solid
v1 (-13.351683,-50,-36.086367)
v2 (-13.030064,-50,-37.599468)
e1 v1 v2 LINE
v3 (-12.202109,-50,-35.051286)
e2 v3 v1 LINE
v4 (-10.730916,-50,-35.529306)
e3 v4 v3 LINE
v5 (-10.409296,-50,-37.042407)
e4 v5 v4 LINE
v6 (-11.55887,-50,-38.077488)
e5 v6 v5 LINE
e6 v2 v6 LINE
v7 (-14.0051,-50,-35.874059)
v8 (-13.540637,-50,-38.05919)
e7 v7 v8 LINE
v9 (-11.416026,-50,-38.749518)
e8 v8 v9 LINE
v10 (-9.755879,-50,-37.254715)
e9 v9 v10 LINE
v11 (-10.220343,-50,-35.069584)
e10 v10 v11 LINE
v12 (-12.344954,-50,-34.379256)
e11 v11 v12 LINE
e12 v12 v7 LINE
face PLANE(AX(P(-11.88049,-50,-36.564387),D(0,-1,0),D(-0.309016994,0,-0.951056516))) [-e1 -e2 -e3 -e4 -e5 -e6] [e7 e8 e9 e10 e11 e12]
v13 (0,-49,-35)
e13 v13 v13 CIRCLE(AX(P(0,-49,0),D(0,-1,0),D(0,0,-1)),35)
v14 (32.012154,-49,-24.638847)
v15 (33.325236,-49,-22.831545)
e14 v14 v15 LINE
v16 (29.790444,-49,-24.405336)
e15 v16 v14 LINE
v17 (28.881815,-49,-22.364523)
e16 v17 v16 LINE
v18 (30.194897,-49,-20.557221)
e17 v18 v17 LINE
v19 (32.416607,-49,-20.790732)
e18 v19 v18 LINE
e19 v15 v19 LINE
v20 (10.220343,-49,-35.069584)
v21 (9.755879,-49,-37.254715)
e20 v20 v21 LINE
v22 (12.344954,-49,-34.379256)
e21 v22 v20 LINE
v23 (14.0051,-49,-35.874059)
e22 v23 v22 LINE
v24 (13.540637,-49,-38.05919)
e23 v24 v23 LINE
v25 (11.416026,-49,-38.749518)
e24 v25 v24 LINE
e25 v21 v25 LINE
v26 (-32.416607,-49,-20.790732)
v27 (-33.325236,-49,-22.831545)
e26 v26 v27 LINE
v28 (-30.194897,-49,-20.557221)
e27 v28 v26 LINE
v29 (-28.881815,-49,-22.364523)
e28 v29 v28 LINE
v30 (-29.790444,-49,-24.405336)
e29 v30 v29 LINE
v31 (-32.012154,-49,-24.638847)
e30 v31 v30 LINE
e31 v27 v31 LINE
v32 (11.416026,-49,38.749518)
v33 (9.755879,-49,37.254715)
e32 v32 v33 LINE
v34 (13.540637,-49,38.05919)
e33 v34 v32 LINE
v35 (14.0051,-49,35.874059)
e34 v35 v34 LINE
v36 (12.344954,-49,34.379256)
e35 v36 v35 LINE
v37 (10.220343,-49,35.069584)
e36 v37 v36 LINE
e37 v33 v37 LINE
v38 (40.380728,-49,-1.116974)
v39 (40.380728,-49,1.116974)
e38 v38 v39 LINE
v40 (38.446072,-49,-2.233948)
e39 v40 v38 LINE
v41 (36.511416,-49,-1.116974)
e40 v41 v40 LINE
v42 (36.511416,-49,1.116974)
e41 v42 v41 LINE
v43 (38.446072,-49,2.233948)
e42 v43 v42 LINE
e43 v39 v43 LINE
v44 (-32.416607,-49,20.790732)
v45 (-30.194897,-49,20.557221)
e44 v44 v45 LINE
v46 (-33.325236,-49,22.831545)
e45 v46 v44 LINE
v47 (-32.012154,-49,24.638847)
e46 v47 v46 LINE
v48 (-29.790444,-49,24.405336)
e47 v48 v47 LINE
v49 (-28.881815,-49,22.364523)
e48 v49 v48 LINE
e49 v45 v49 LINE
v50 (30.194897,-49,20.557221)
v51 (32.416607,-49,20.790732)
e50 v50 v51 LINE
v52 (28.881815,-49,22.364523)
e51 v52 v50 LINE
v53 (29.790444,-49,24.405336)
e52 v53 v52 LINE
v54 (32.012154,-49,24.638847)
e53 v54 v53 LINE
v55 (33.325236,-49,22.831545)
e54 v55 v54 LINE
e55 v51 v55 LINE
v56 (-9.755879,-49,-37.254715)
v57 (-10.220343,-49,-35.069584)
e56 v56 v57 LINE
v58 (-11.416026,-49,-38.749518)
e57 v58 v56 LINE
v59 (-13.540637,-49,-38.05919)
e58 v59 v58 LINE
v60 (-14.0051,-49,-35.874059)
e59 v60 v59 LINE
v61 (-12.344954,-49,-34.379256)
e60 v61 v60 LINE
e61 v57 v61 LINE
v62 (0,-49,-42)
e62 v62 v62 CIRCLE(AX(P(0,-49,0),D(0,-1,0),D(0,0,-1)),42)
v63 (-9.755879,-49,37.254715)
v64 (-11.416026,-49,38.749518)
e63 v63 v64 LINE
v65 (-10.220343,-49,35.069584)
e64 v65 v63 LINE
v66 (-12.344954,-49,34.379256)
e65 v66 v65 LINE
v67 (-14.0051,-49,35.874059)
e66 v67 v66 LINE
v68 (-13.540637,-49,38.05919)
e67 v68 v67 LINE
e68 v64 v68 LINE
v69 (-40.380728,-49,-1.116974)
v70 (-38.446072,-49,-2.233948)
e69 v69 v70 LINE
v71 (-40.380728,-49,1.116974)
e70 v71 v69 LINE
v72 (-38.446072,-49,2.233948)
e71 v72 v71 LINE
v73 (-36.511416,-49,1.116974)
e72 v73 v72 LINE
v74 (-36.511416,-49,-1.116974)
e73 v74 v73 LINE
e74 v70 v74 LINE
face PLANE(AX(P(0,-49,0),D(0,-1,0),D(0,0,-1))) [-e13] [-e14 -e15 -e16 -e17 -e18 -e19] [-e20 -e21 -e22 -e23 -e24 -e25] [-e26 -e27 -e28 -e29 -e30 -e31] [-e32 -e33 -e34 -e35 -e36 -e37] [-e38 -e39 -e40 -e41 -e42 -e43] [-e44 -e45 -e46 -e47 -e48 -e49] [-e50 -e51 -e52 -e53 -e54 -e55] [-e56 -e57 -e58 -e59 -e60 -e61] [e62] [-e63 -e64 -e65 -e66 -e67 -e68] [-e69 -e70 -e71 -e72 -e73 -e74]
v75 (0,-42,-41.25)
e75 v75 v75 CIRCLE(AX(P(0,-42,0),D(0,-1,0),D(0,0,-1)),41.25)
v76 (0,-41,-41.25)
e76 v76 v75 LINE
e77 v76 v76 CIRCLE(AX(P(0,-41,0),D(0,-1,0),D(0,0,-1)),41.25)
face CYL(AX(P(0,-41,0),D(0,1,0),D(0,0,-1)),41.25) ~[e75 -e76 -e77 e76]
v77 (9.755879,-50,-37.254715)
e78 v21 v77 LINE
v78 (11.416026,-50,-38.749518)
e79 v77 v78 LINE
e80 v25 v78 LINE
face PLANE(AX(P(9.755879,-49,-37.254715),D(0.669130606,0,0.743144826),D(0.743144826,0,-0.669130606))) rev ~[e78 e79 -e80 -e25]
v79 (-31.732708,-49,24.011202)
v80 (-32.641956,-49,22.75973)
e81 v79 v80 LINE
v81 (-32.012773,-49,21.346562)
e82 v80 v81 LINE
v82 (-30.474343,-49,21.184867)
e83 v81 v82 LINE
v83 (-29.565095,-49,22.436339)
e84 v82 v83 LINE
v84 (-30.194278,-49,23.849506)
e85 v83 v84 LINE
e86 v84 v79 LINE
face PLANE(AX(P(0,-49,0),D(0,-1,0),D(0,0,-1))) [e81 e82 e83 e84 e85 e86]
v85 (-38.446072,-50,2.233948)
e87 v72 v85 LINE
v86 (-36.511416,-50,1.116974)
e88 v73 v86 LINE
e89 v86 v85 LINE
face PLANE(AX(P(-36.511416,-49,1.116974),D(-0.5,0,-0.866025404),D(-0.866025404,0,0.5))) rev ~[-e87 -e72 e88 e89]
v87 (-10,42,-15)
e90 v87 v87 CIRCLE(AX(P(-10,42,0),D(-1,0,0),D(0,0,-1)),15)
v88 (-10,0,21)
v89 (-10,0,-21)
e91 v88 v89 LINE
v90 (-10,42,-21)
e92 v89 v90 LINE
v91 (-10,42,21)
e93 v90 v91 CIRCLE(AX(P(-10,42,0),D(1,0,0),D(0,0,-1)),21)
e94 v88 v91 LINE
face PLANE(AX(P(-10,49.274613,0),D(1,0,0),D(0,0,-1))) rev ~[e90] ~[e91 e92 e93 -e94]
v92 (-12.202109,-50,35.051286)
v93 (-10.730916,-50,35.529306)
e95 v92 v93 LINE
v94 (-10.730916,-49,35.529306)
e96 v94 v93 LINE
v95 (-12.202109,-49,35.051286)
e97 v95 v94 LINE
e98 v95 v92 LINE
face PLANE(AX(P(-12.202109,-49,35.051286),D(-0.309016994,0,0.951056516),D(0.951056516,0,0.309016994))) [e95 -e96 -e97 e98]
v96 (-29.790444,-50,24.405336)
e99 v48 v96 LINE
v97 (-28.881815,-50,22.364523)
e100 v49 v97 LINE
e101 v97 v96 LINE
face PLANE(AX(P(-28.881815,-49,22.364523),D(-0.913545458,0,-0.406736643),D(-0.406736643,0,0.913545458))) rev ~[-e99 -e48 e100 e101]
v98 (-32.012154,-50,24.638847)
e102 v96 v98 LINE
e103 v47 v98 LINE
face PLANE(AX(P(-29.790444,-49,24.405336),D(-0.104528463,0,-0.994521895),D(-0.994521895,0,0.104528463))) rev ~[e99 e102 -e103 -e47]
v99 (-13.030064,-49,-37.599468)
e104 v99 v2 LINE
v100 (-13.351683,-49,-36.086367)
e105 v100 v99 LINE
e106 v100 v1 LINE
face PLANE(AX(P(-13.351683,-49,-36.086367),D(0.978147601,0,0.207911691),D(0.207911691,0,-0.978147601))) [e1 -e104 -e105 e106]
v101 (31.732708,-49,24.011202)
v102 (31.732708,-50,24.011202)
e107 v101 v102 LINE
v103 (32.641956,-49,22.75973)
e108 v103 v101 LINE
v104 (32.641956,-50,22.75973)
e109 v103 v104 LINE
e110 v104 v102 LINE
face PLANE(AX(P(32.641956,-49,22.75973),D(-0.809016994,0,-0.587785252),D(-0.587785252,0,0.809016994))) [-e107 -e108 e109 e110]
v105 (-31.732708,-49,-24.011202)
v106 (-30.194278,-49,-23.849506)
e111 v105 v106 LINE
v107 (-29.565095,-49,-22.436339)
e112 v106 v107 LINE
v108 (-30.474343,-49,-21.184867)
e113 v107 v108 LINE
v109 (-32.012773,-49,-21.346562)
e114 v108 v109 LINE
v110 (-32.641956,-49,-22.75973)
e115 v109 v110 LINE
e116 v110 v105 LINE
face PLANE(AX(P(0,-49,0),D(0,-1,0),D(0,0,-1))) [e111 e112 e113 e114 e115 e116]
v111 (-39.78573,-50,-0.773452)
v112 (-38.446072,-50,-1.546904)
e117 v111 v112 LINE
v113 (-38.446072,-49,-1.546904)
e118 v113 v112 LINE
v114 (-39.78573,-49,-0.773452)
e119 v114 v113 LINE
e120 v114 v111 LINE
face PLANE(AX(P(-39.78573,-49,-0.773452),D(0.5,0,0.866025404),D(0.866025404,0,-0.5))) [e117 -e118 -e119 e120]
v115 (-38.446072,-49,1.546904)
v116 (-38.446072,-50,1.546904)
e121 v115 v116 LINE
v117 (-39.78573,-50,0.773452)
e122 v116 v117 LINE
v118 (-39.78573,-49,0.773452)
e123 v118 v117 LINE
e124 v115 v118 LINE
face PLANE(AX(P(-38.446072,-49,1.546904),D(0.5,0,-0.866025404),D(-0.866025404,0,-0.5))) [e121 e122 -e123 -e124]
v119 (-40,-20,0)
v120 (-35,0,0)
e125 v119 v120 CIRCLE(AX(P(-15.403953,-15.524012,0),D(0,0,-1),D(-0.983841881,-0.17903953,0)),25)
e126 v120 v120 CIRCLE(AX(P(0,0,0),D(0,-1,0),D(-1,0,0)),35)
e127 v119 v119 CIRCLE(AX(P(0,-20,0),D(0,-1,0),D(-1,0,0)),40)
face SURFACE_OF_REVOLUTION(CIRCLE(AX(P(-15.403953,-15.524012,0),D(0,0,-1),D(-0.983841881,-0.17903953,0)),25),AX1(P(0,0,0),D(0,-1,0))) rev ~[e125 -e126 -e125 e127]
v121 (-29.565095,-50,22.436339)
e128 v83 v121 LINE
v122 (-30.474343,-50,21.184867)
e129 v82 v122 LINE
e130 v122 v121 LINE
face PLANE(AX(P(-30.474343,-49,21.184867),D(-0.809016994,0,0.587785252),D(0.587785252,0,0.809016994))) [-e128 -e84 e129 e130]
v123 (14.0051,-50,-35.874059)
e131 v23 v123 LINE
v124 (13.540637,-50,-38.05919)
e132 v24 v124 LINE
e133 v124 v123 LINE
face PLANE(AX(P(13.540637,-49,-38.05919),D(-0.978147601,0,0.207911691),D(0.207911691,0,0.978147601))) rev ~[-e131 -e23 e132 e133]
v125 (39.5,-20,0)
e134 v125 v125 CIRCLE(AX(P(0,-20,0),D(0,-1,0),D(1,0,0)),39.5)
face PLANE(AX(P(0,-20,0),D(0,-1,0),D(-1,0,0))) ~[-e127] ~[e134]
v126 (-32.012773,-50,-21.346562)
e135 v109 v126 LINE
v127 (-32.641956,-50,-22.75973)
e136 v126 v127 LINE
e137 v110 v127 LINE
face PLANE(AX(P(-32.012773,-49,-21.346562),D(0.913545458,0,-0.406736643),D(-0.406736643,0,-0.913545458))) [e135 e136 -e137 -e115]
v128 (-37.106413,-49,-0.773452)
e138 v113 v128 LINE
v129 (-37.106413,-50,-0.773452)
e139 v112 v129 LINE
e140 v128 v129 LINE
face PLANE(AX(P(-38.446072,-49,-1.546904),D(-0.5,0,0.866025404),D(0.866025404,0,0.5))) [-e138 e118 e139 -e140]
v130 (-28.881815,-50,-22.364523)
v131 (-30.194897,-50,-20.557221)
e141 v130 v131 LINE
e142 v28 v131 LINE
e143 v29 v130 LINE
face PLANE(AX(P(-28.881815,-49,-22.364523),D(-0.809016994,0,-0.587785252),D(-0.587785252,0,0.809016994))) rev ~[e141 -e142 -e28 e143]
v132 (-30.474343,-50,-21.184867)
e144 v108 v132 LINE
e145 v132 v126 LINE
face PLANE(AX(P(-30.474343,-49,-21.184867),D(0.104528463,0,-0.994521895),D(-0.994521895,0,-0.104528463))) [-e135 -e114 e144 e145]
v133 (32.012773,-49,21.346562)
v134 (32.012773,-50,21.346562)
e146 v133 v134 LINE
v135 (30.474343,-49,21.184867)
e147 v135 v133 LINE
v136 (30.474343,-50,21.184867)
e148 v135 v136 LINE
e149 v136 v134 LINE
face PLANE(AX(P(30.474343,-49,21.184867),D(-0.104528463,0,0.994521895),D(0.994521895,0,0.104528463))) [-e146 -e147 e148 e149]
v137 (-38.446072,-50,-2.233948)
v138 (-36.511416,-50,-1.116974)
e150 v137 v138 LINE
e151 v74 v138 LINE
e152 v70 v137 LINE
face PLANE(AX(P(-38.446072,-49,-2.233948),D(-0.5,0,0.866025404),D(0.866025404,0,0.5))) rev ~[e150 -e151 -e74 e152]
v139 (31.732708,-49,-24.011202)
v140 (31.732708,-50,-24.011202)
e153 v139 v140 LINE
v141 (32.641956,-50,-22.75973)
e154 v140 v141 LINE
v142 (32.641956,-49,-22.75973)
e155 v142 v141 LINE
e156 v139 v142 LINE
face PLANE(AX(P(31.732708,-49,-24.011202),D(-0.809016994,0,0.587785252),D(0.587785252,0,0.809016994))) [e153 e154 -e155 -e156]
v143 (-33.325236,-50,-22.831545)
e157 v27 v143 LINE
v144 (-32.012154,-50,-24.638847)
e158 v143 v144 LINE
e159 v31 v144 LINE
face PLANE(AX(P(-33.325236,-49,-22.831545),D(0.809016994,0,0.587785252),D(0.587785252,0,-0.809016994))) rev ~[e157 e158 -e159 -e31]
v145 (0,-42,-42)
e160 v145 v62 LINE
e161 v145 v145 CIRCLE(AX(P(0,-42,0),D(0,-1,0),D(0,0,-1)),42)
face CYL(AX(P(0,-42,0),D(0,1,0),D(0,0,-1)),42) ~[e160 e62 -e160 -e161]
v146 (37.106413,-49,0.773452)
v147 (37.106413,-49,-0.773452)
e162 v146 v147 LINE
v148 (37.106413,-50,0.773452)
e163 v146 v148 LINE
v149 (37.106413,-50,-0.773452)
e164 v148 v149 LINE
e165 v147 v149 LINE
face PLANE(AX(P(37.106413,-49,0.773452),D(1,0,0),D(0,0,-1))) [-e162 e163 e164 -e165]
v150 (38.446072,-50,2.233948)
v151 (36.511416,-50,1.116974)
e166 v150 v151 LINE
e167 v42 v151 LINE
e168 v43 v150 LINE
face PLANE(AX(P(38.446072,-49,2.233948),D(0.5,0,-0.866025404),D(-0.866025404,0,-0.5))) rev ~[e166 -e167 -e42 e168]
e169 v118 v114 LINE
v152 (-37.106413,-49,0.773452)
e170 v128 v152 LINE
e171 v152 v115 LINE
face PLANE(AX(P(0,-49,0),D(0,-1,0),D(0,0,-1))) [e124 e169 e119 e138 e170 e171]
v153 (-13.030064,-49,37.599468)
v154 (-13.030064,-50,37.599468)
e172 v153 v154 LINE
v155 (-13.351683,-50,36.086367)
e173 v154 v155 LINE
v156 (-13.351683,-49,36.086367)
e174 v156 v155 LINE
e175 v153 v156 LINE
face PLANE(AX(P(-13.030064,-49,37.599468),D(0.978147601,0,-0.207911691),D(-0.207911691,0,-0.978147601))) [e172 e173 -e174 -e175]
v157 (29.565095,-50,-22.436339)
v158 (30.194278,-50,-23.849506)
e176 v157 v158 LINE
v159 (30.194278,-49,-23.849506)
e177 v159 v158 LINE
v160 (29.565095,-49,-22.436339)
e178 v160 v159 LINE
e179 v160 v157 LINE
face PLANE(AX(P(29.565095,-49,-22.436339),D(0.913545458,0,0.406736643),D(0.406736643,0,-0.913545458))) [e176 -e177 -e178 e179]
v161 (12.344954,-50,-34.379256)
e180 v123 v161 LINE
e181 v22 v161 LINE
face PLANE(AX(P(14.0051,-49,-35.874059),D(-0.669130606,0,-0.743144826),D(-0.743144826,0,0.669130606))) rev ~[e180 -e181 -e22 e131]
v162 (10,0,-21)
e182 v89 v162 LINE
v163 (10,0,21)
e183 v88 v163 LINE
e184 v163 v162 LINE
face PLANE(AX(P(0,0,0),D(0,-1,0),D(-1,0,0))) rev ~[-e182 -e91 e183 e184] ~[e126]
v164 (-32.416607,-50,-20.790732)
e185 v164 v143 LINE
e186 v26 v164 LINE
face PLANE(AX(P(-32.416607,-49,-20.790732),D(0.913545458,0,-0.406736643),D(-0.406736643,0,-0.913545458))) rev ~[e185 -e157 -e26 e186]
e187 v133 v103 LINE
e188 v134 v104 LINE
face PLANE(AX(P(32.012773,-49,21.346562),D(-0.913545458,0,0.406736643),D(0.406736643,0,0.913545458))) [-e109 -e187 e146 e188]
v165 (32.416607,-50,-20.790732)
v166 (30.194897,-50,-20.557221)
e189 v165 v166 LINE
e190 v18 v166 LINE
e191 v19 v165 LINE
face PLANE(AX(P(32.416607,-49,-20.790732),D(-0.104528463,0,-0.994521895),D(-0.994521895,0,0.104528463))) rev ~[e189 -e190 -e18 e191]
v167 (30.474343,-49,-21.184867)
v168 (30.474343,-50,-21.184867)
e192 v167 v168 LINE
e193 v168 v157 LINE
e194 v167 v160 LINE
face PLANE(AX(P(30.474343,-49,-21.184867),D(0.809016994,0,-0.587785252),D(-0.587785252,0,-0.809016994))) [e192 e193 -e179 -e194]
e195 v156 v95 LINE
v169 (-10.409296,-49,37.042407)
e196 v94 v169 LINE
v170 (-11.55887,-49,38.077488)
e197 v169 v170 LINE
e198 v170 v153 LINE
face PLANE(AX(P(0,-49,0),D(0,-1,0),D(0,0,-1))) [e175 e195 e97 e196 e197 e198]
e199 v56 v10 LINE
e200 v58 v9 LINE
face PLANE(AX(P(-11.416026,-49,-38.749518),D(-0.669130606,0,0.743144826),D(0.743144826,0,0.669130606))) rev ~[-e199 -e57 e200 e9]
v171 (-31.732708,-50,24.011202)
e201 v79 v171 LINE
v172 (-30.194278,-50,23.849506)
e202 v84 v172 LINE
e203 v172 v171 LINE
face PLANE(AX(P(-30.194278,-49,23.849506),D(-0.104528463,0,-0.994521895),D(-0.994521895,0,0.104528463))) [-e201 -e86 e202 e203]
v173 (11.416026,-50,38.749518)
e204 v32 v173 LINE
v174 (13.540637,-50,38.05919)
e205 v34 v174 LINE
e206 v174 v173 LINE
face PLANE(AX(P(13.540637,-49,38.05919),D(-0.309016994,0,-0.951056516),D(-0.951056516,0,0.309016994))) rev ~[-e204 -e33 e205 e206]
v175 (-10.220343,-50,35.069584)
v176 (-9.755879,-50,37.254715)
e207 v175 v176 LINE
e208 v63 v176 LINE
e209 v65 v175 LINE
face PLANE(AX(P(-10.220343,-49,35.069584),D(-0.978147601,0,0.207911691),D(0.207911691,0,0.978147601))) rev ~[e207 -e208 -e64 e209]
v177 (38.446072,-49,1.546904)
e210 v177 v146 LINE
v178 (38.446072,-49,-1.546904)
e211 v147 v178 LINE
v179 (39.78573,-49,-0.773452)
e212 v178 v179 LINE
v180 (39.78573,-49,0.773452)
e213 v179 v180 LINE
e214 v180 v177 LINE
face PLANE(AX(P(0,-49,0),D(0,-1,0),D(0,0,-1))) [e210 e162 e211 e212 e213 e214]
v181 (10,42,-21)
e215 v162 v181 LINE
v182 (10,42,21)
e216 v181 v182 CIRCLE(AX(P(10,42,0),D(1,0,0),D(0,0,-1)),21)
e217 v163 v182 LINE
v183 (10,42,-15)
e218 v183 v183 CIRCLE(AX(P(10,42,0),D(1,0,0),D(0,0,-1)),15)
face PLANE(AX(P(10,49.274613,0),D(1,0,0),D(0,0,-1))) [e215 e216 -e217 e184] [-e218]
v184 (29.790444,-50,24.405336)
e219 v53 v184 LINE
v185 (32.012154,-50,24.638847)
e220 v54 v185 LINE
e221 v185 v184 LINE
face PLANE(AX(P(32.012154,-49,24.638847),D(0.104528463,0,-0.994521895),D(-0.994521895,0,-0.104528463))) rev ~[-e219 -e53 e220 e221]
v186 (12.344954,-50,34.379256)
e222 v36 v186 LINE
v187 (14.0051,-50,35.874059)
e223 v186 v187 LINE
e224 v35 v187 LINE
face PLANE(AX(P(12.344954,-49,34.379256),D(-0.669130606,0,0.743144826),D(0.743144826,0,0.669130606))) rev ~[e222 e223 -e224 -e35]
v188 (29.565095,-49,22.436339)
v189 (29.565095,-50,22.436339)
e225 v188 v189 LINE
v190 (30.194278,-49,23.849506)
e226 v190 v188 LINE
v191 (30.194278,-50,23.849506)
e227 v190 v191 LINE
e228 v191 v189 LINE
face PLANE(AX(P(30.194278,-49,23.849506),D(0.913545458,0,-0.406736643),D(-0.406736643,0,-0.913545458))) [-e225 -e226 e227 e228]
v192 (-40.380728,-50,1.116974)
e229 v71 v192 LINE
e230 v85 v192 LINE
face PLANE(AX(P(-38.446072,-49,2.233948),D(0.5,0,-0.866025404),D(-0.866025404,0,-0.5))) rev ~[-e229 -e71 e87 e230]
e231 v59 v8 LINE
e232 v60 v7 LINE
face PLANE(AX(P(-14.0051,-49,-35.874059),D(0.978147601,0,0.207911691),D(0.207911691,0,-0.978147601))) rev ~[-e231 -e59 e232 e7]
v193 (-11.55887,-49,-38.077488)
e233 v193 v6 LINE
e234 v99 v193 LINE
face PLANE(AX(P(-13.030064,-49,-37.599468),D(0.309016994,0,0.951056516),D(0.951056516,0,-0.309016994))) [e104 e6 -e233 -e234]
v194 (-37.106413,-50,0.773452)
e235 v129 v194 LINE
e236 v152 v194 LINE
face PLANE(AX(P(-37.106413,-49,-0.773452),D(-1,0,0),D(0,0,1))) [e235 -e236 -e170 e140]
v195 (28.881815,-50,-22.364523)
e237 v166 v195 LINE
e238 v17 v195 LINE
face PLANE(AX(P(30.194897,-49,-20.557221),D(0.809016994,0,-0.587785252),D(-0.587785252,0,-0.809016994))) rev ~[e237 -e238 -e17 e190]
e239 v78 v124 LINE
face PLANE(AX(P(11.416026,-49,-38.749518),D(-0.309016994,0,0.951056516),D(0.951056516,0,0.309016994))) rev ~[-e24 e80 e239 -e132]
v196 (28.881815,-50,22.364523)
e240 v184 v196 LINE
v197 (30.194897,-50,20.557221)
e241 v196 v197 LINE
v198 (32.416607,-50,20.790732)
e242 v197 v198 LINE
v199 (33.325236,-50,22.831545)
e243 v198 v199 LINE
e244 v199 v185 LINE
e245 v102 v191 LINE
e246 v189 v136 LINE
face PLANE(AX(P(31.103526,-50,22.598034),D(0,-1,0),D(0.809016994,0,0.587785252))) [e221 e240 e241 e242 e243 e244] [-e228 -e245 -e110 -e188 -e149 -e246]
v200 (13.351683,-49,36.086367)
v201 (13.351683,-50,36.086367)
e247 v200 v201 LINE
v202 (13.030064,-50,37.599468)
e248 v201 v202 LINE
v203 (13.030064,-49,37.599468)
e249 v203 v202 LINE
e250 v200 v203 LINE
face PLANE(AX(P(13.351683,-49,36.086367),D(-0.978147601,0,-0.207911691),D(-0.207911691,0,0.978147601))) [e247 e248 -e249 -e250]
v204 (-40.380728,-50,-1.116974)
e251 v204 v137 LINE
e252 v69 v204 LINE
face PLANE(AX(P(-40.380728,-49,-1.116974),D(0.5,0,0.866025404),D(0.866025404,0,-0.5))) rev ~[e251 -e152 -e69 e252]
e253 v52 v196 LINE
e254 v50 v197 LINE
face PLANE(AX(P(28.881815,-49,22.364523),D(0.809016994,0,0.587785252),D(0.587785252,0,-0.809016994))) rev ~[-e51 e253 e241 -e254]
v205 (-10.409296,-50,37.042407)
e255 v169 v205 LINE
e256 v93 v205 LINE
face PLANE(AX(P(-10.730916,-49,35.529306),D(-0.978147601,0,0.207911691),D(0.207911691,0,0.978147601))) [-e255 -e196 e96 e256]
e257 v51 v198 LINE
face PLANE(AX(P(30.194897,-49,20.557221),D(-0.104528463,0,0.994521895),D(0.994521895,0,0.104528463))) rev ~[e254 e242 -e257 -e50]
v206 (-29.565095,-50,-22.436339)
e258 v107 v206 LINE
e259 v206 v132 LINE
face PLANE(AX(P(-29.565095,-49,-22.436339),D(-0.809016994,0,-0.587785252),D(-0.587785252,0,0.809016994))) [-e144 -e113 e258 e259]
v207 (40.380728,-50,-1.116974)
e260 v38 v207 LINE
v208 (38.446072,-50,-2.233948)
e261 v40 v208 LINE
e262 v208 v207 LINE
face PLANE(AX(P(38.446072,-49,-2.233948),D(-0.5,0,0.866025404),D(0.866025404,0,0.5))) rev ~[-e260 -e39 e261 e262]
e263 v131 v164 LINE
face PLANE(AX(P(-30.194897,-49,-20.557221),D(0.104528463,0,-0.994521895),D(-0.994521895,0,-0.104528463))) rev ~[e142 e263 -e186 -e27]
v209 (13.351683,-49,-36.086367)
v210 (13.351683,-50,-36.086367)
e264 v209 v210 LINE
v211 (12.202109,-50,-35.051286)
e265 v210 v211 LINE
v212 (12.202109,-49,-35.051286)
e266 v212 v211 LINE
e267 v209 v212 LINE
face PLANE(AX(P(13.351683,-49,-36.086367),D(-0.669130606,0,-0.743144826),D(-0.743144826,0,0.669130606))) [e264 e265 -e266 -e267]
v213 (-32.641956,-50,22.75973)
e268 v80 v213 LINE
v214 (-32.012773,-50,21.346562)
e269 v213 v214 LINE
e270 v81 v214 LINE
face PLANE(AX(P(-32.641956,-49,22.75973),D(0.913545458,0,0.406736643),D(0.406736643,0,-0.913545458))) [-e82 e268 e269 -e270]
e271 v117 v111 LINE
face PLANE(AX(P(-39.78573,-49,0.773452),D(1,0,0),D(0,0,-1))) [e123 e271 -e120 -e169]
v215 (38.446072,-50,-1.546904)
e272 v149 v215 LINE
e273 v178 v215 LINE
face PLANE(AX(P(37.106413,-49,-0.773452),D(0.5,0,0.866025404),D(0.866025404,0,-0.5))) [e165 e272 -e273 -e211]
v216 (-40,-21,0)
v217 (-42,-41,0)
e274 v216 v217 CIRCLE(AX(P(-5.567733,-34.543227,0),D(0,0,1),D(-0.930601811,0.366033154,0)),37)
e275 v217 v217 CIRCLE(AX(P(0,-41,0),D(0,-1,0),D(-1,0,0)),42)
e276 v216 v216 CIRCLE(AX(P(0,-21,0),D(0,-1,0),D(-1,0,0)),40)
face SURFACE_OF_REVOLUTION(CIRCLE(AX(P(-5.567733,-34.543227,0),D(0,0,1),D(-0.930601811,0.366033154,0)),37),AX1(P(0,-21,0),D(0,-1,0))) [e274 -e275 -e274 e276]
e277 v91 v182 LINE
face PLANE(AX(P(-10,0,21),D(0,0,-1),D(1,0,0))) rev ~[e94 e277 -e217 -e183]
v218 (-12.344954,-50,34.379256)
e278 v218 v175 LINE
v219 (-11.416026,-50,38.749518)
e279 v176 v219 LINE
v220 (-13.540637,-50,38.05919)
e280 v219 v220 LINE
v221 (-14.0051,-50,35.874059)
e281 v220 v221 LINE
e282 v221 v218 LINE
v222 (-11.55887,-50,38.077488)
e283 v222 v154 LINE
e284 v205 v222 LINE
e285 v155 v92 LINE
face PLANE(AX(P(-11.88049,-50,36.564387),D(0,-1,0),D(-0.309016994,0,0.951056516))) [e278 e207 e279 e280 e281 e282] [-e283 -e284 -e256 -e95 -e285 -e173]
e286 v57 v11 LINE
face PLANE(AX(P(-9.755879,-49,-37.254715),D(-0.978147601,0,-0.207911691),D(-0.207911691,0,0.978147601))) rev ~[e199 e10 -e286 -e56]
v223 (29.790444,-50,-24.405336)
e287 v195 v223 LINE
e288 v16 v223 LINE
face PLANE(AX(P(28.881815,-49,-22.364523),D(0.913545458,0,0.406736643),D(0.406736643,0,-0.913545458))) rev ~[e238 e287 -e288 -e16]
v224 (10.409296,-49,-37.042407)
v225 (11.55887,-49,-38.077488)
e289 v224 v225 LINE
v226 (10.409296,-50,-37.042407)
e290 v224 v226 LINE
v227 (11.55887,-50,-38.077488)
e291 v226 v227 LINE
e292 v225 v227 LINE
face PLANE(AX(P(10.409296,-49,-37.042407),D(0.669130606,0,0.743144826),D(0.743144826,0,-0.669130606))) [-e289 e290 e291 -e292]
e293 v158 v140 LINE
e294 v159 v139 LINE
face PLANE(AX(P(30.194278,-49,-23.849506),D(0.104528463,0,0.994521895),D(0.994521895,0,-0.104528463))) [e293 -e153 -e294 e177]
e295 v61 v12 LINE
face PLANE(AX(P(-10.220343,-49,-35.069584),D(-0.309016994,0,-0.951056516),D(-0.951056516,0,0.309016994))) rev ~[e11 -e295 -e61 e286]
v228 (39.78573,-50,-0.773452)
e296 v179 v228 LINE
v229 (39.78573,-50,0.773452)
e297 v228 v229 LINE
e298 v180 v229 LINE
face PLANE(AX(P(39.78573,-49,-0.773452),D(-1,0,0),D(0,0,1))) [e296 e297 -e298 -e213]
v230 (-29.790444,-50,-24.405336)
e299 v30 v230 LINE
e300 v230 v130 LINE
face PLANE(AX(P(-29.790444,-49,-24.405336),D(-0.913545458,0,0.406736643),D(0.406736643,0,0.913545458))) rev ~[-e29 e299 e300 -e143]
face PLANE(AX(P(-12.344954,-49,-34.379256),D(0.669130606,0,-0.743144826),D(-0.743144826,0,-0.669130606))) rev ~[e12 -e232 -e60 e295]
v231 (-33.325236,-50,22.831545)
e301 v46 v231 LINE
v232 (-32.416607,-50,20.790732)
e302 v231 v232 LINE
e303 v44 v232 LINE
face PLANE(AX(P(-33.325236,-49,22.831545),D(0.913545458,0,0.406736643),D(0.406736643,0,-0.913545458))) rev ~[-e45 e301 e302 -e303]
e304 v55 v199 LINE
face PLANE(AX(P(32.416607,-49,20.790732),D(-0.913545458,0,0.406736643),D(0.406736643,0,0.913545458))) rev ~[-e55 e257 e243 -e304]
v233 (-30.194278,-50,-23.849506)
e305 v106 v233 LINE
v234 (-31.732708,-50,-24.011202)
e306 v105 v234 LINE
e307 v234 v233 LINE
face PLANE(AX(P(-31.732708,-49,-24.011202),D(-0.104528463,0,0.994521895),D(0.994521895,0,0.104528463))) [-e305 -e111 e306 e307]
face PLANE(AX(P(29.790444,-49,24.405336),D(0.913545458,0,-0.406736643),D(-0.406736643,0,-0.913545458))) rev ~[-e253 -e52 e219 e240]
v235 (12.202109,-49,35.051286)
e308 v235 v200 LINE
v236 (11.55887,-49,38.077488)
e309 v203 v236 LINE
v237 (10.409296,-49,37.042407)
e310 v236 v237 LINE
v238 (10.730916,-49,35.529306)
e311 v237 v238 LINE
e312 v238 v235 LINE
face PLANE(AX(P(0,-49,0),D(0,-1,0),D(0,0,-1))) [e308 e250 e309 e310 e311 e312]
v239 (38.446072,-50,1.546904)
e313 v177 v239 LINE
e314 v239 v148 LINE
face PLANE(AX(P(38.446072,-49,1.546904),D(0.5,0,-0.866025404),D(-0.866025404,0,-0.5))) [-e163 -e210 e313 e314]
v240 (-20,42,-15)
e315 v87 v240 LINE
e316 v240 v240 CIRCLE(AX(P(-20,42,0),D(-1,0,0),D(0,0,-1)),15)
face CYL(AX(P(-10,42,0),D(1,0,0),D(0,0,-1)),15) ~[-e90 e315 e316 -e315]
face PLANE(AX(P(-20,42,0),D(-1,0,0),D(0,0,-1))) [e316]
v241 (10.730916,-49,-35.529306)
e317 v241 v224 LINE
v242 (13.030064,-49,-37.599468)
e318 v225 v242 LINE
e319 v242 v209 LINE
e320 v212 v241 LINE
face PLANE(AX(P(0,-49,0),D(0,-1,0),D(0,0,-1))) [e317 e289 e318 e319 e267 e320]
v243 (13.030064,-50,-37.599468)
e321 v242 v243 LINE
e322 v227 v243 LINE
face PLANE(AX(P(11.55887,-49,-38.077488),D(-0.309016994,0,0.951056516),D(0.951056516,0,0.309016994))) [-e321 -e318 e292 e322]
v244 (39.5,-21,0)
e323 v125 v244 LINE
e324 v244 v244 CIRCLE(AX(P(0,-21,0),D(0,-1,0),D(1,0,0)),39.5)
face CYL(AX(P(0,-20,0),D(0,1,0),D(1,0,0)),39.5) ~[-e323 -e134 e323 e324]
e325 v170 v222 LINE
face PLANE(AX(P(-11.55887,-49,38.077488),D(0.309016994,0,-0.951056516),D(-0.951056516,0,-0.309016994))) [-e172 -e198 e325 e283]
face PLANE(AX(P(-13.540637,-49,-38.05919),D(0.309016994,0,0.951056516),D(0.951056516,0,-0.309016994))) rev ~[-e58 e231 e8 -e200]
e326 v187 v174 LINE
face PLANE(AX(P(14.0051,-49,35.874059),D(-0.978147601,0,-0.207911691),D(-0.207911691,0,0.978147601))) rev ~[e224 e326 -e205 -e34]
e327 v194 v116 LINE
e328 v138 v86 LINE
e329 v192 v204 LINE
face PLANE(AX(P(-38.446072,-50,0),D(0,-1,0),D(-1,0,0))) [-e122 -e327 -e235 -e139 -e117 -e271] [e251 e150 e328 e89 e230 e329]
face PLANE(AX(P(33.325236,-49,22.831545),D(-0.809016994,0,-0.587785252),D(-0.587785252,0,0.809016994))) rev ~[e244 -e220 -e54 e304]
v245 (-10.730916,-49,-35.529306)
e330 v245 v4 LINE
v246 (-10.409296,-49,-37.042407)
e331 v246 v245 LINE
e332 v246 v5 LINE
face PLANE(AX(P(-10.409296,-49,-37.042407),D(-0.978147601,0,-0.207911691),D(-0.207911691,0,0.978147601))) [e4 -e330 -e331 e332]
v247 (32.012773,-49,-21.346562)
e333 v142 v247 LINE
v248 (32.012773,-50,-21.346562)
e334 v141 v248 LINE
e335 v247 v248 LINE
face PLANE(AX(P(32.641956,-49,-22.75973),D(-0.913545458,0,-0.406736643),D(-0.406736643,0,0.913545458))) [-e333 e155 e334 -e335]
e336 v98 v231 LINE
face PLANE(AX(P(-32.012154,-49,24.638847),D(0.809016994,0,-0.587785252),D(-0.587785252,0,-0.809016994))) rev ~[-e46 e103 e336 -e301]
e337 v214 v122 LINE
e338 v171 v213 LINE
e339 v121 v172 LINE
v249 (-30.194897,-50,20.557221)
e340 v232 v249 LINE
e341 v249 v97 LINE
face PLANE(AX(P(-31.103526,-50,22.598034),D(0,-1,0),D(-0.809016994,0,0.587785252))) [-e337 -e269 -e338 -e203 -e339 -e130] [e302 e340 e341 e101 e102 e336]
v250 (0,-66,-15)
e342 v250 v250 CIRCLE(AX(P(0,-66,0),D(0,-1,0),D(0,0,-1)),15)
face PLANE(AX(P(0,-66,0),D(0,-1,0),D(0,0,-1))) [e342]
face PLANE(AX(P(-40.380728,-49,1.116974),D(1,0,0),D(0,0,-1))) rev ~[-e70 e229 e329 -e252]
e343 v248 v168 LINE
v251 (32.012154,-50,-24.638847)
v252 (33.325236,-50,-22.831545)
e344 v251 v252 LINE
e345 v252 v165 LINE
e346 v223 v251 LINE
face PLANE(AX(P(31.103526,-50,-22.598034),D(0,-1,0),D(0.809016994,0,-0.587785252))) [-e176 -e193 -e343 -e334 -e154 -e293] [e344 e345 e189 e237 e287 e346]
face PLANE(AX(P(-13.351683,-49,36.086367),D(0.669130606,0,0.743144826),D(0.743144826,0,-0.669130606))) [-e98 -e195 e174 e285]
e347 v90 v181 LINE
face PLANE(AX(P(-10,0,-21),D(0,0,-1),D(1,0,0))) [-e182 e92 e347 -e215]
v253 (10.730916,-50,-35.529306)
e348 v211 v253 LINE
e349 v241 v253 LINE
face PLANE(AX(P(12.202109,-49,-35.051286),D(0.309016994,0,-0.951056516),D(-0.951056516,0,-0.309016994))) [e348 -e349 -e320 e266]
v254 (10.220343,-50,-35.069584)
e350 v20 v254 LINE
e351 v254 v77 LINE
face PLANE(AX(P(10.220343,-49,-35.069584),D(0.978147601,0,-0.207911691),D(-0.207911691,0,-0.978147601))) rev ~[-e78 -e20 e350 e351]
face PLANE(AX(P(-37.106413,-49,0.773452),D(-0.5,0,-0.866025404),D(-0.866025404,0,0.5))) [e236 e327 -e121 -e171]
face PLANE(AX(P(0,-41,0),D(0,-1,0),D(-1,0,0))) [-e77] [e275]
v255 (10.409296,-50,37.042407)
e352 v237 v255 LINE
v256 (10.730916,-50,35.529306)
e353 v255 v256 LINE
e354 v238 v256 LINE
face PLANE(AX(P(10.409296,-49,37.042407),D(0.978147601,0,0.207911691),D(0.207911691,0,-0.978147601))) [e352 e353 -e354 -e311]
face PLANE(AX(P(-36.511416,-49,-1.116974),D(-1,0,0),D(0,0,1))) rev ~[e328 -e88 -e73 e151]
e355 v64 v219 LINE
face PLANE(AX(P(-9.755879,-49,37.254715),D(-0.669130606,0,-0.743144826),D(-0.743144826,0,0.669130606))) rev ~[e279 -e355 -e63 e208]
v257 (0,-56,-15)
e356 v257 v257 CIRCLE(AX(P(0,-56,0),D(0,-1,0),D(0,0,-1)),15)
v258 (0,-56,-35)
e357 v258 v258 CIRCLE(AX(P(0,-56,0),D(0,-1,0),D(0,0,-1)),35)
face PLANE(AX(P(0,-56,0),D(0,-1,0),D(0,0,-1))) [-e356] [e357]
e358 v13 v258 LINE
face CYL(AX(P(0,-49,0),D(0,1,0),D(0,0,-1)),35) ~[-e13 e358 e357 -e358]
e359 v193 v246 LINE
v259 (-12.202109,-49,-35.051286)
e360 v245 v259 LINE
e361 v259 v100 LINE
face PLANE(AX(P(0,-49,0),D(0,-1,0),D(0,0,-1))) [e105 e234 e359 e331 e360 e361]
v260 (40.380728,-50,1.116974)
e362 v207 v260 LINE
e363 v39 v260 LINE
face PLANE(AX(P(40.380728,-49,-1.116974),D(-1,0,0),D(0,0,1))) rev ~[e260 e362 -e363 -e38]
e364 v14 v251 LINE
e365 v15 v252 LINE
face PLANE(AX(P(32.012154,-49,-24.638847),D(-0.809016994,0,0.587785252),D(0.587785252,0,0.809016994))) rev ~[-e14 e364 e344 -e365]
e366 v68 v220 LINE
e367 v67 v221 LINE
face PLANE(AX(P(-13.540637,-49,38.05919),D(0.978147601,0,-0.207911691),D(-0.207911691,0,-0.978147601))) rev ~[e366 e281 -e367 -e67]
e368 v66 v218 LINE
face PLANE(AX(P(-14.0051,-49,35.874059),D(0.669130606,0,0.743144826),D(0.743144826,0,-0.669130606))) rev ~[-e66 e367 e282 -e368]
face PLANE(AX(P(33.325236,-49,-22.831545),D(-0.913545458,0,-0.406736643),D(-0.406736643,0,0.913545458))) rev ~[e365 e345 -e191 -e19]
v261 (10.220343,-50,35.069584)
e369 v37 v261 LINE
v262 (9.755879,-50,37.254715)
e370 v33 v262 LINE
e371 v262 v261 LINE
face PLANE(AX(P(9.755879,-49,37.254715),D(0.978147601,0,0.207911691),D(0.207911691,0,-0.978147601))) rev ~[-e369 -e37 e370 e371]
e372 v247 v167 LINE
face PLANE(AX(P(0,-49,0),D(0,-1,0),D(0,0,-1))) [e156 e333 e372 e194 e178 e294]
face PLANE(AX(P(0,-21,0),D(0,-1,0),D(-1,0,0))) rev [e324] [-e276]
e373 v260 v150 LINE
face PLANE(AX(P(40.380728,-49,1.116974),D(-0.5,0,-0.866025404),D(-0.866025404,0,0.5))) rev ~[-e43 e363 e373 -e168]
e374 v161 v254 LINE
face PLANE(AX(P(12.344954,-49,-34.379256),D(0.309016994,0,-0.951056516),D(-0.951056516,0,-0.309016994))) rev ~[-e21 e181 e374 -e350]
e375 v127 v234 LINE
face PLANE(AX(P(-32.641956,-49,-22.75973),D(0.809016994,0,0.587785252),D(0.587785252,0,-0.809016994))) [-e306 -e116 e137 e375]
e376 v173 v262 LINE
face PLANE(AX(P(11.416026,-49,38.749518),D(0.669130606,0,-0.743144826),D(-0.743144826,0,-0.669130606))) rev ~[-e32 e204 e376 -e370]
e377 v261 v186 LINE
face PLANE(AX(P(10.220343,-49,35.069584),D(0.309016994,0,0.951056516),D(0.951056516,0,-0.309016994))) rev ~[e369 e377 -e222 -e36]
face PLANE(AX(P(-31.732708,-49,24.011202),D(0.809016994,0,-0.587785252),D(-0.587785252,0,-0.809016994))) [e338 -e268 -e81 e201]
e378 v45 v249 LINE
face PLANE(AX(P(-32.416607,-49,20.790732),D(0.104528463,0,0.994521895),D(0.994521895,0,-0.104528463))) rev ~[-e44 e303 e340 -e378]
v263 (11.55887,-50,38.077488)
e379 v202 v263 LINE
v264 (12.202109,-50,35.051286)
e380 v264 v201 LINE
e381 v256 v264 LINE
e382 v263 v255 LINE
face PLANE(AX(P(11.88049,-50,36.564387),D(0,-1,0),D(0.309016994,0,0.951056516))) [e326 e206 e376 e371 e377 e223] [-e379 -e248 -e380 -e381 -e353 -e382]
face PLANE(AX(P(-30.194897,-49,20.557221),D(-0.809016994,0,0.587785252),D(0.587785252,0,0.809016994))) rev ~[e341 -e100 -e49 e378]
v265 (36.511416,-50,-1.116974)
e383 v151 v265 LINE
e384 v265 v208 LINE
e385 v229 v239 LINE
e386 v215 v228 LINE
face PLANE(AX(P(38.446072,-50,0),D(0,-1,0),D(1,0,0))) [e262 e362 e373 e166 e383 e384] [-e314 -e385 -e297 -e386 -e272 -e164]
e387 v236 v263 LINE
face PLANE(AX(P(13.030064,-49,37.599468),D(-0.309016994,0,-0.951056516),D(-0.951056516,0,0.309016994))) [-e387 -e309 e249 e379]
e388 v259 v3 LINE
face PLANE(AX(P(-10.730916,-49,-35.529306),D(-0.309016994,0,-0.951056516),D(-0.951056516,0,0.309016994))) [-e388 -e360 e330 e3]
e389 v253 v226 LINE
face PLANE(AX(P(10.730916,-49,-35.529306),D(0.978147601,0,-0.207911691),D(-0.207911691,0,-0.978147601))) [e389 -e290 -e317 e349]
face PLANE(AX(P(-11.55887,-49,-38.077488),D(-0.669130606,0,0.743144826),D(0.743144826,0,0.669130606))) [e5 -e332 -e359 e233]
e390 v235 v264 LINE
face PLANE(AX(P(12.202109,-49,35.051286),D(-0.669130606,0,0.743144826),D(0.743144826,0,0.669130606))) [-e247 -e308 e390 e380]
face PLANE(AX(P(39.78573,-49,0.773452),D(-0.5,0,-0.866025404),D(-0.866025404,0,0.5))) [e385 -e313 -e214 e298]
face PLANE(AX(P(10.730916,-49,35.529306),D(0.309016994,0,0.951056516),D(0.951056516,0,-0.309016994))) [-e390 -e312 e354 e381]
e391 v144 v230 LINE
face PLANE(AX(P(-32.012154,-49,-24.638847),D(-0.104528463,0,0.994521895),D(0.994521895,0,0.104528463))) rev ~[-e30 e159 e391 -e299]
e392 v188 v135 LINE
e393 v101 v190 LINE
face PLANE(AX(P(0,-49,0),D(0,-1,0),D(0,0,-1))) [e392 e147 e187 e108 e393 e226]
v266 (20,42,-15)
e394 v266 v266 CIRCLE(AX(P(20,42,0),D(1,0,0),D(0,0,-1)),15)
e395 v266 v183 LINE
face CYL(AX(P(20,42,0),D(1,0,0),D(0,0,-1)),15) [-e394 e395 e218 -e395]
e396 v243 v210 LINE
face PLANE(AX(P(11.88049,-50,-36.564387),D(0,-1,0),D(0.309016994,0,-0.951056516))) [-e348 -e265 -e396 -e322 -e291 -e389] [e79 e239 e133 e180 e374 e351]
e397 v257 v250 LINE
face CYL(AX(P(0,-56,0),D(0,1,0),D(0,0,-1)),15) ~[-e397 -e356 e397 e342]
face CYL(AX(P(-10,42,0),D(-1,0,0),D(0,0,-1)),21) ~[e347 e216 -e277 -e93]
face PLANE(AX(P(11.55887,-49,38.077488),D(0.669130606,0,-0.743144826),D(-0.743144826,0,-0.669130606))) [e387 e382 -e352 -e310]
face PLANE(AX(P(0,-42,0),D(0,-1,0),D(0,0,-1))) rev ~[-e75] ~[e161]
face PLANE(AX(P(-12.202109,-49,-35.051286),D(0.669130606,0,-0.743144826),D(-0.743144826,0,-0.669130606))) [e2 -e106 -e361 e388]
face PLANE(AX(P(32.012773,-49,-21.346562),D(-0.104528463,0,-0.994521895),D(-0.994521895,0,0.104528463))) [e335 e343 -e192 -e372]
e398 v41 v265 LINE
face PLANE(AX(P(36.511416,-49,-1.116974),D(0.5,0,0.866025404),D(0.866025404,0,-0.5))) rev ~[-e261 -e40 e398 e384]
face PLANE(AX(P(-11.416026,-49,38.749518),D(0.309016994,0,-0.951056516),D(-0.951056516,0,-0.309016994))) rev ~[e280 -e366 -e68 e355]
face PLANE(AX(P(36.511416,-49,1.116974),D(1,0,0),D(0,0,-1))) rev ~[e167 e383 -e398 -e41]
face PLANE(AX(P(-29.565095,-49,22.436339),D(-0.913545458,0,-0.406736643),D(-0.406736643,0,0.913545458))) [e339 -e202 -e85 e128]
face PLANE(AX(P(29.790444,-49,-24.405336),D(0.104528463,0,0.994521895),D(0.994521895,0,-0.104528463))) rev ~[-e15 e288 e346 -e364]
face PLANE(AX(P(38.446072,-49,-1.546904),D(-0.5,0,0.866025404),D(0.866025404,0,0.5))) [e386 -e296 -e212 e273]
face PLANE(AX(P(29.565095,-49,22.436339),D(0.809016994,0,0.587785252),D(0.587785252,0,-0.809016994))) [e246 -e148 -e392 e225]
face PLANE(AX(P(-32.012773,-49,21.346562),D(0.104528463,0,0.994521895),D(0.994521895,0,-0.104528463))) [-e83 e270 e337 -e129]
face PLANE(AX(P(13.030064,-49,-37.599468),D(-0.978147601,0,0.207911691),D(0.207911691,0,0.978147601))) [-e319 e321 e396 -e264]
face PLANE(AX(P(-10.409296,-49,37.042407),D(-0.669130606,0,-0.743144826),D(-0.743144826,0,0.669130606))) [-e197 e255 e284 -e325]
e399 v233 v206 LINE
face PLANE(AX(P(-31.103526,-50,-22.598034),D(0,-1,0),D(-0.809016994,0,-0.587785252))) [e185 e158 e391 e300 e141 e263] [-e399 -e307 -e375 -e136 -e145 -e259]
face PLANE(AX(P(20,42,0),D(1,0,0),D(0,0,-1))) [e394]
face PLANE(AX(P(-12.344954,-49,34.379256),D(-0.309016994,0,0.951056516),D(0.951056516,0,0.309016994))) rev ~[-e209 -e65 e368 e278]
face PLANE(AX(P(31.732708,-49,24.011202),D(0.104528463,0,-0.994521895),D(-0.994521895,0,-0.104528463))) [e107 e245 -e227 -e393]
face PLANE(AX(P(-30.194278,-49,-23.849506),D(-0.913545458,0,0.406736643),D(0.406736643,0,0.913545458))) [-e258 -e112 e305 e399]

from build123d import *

# Parameters (mm, degrees)
SKETCH2_R            = 39.5
BOSS_EXTRUDE1_DEPTH  = 1
SKETCH4_R            = 41.25
BOSS_EXTRUDE2_DEPTH  = 1
SKETCH5_R            = 42
BOSS_EXTRUDE3_DEPTH  = 7
SKETCH6_R            = 35
BOSS_EXTRUDE4_DEPTH  = 7
BOSS_EXTRUDE5_DEPTH  = 1
CIRPATTERN1_COUNT    = 10
SKETCH9_R            = 15
BOSS_EXTRUDE6_DEPTH  = 10
SKETCH10_W           = 20
SKETCH10_H           = 42
BOSS_EXTRUDE7_DEPTH  = 42
BOSS_EXTRUDE8_START  = -20
BOSS_EXTRUDE8_DEPTH  = 20
SKETCH12_R           = 15
BOSS_EXTRUDE9_DEPTH  = 10
BOSS_EXTRUDE10_START = 10
SKETCH13_R           = 15
BOSS_EXTRUDE10_DEPTH = 10


with BuildPart() as part:
    # Sketch1 → Revolve1 (revolve)
    with BuildSketch(Plane.XY):
        with BuildLine():
            Line((-35, 0), (0, 0))
            Line((0, 0), (0, -20))
            Line((0, -20), (-40, -20))
            ThreePointArc((-40, -20), (-39.657515479, -9.46062113), (-35, 0))
        make_face()
    revolve(axis=Axis((0, 0, 0), (0, -1, 0)))

    # Sketch2 → Boss-Extrude1 (add)
    with BuildSketch(Plane.XZ.offset(20)):
        Circle(SKETCH2_R)
    extrude(amount=BOSS_EXTRUDE1_DEPTH)

    # Sketch3 → Revolve2 (revolve)
    with BuildSketch(Plane(origin=(0, 0, 0), x_dir=(0, 0, -1), z_dir=(1, 0, 0)), mode=Mode.PRIVATE) as revolve2_sk:
        with BuildLine():
            Line((0, -21), (-40, -21))
            ThreePointArc((-40, -21), (-42.384109041, -30.861589096), (-42, -41))
            Line((-42, -41), (0, -41))
            Line((0, -41), (0, -21))
        make_face()
    revolve(revolve2_sk.sketch.rotate(Axis((0, -21, 0), (0, -1, 0)), 90), axis=Axis((0, -21, 0), (0, -1, 0)))

    # Sketch4 → Boss-Extrude2 (add)
    with BuildSketch(Plane.XZ.offset(41)):
        with Locations(Location((0, 0, 0), (0, 0, 270))):
            Circle(SKETCH4_R)
    extrude(amount=BOSS_EXTRUDE2_DEPTH)

    # Sketch5 → Boss-Extrude3 (add)
    with BuildSketch(Plane.XZ.offset(42)):
        with Locations(Location((0, 0, 0), (0, 0, 270))):
            Circle(SKETCH5_R)
    extrude(amount=BOSS_EXTRUDE3_DEPTH)

    # Sketch6 → Boss-Extrude4 (add)
    with BuildSketch(Plane.XZ.offset(49)):
        with Locations(Location((0, 0, 0), (0, 0, 270))):
            Circle(SKETCH6_R)
    extrude(amount=BOSS_EXTRUDE4_DEPTH)

    # Sketch7 → Boss-Extrude5 (add)
    with BuildSketch(Plane.XZ.offset(49)):
        Polygon((38.446071931, -2.233948034), (40.380727679, -1.116974017), (40.380727679, 1.116974017), (38.446071931, 2.233948034), (36.511416183, 1.116974017), (36.511416183, -1.116974017), align=None)
        Polygon((38.446071931, -1.546904417), (39.785730453, -0.773452208), (39.785730453, 0.773452208), (38.446071931, 1.546904417), (37.106413409, 0.773452208), (37.106413409, -0.773452208), align=None, mode=Mode.SUBTRACT)
    boss_extrude5 = extrude(amount=BOSS_EXTRUDE5_DEPTH)

    # CirPattern1: Boss-Extrude5 ×10 about axis
    cirpattern1_axis = Axis((0, 0, 0), (0, 1, 0))
    for i in range(1, CIRPATTERN1_COUNT):
        add(boss_extrude5.rotate(cirpattern1_axis, i * 360 / CIRPATTERN1_COUNT))

    # Sketch9 → Boss-Extrude6 (add)
    with BuildSketch(Plane.XZ.offset(56)):
        with Locations(Location((0, 0, 0), (0, 0, 270))):
            Circle(SKETCH9_R)
    extrude(amount=BOSS_EXTRUDE6_DEPTH)

    # Sketch10 → Boss-Extrude7 (add)
    with BuildSketch(Plane(origin=(0, 0, 0), x_dir=(1, 0, 0), z_dir=(0, 1, 0))):
        Rectangle(SKETCH10_W, SKETCH10_H)
    extrude(amount=BOSS_EXTRUDE7_DEPTH)

    # Sketch11 → Boss-Extrude8 (add)
    with BuildSketch(Plane(origin=(10, 0, 0), x_dir=(0, 0, -1), z_dir=(1, 0, 0)).offset(BOSS_EXTRUDE8_START)):
        with BuildLine():
            Line((-21, 42), (21, 42))
            ThreePointArc((21, 42), (0, 63), (-21, 42))
        make_face()
    extrude(amount=BOSS_EXTRUDE8_DEPTH)

    # Sketch12 → Boss-Extrude9 (add)
    with BuildSketch(Plane.ZY.offset(10)):
        with Locations(Location((0, 42, 0), (0, 0, 180))):
            Circle(SKETCH12_R)
    extrude(amount=BOSS_EXTRUDE9_DEPTH)

    # Sketch13 → Boss-Extrude10 (add)
    with BuildSketch(Plane(origin=(10, 0, 0), x_dir=(0, 0, -1), z_dir=(1, 0, 0)).offset(BOSS_EXTRUDE10_START)):
        with Locations((0, 42)):
            Circle(SKETCH13_R)
    extrude(amount=-BOSS_EXTRUDE10_DEPTH)


solid = part.part
